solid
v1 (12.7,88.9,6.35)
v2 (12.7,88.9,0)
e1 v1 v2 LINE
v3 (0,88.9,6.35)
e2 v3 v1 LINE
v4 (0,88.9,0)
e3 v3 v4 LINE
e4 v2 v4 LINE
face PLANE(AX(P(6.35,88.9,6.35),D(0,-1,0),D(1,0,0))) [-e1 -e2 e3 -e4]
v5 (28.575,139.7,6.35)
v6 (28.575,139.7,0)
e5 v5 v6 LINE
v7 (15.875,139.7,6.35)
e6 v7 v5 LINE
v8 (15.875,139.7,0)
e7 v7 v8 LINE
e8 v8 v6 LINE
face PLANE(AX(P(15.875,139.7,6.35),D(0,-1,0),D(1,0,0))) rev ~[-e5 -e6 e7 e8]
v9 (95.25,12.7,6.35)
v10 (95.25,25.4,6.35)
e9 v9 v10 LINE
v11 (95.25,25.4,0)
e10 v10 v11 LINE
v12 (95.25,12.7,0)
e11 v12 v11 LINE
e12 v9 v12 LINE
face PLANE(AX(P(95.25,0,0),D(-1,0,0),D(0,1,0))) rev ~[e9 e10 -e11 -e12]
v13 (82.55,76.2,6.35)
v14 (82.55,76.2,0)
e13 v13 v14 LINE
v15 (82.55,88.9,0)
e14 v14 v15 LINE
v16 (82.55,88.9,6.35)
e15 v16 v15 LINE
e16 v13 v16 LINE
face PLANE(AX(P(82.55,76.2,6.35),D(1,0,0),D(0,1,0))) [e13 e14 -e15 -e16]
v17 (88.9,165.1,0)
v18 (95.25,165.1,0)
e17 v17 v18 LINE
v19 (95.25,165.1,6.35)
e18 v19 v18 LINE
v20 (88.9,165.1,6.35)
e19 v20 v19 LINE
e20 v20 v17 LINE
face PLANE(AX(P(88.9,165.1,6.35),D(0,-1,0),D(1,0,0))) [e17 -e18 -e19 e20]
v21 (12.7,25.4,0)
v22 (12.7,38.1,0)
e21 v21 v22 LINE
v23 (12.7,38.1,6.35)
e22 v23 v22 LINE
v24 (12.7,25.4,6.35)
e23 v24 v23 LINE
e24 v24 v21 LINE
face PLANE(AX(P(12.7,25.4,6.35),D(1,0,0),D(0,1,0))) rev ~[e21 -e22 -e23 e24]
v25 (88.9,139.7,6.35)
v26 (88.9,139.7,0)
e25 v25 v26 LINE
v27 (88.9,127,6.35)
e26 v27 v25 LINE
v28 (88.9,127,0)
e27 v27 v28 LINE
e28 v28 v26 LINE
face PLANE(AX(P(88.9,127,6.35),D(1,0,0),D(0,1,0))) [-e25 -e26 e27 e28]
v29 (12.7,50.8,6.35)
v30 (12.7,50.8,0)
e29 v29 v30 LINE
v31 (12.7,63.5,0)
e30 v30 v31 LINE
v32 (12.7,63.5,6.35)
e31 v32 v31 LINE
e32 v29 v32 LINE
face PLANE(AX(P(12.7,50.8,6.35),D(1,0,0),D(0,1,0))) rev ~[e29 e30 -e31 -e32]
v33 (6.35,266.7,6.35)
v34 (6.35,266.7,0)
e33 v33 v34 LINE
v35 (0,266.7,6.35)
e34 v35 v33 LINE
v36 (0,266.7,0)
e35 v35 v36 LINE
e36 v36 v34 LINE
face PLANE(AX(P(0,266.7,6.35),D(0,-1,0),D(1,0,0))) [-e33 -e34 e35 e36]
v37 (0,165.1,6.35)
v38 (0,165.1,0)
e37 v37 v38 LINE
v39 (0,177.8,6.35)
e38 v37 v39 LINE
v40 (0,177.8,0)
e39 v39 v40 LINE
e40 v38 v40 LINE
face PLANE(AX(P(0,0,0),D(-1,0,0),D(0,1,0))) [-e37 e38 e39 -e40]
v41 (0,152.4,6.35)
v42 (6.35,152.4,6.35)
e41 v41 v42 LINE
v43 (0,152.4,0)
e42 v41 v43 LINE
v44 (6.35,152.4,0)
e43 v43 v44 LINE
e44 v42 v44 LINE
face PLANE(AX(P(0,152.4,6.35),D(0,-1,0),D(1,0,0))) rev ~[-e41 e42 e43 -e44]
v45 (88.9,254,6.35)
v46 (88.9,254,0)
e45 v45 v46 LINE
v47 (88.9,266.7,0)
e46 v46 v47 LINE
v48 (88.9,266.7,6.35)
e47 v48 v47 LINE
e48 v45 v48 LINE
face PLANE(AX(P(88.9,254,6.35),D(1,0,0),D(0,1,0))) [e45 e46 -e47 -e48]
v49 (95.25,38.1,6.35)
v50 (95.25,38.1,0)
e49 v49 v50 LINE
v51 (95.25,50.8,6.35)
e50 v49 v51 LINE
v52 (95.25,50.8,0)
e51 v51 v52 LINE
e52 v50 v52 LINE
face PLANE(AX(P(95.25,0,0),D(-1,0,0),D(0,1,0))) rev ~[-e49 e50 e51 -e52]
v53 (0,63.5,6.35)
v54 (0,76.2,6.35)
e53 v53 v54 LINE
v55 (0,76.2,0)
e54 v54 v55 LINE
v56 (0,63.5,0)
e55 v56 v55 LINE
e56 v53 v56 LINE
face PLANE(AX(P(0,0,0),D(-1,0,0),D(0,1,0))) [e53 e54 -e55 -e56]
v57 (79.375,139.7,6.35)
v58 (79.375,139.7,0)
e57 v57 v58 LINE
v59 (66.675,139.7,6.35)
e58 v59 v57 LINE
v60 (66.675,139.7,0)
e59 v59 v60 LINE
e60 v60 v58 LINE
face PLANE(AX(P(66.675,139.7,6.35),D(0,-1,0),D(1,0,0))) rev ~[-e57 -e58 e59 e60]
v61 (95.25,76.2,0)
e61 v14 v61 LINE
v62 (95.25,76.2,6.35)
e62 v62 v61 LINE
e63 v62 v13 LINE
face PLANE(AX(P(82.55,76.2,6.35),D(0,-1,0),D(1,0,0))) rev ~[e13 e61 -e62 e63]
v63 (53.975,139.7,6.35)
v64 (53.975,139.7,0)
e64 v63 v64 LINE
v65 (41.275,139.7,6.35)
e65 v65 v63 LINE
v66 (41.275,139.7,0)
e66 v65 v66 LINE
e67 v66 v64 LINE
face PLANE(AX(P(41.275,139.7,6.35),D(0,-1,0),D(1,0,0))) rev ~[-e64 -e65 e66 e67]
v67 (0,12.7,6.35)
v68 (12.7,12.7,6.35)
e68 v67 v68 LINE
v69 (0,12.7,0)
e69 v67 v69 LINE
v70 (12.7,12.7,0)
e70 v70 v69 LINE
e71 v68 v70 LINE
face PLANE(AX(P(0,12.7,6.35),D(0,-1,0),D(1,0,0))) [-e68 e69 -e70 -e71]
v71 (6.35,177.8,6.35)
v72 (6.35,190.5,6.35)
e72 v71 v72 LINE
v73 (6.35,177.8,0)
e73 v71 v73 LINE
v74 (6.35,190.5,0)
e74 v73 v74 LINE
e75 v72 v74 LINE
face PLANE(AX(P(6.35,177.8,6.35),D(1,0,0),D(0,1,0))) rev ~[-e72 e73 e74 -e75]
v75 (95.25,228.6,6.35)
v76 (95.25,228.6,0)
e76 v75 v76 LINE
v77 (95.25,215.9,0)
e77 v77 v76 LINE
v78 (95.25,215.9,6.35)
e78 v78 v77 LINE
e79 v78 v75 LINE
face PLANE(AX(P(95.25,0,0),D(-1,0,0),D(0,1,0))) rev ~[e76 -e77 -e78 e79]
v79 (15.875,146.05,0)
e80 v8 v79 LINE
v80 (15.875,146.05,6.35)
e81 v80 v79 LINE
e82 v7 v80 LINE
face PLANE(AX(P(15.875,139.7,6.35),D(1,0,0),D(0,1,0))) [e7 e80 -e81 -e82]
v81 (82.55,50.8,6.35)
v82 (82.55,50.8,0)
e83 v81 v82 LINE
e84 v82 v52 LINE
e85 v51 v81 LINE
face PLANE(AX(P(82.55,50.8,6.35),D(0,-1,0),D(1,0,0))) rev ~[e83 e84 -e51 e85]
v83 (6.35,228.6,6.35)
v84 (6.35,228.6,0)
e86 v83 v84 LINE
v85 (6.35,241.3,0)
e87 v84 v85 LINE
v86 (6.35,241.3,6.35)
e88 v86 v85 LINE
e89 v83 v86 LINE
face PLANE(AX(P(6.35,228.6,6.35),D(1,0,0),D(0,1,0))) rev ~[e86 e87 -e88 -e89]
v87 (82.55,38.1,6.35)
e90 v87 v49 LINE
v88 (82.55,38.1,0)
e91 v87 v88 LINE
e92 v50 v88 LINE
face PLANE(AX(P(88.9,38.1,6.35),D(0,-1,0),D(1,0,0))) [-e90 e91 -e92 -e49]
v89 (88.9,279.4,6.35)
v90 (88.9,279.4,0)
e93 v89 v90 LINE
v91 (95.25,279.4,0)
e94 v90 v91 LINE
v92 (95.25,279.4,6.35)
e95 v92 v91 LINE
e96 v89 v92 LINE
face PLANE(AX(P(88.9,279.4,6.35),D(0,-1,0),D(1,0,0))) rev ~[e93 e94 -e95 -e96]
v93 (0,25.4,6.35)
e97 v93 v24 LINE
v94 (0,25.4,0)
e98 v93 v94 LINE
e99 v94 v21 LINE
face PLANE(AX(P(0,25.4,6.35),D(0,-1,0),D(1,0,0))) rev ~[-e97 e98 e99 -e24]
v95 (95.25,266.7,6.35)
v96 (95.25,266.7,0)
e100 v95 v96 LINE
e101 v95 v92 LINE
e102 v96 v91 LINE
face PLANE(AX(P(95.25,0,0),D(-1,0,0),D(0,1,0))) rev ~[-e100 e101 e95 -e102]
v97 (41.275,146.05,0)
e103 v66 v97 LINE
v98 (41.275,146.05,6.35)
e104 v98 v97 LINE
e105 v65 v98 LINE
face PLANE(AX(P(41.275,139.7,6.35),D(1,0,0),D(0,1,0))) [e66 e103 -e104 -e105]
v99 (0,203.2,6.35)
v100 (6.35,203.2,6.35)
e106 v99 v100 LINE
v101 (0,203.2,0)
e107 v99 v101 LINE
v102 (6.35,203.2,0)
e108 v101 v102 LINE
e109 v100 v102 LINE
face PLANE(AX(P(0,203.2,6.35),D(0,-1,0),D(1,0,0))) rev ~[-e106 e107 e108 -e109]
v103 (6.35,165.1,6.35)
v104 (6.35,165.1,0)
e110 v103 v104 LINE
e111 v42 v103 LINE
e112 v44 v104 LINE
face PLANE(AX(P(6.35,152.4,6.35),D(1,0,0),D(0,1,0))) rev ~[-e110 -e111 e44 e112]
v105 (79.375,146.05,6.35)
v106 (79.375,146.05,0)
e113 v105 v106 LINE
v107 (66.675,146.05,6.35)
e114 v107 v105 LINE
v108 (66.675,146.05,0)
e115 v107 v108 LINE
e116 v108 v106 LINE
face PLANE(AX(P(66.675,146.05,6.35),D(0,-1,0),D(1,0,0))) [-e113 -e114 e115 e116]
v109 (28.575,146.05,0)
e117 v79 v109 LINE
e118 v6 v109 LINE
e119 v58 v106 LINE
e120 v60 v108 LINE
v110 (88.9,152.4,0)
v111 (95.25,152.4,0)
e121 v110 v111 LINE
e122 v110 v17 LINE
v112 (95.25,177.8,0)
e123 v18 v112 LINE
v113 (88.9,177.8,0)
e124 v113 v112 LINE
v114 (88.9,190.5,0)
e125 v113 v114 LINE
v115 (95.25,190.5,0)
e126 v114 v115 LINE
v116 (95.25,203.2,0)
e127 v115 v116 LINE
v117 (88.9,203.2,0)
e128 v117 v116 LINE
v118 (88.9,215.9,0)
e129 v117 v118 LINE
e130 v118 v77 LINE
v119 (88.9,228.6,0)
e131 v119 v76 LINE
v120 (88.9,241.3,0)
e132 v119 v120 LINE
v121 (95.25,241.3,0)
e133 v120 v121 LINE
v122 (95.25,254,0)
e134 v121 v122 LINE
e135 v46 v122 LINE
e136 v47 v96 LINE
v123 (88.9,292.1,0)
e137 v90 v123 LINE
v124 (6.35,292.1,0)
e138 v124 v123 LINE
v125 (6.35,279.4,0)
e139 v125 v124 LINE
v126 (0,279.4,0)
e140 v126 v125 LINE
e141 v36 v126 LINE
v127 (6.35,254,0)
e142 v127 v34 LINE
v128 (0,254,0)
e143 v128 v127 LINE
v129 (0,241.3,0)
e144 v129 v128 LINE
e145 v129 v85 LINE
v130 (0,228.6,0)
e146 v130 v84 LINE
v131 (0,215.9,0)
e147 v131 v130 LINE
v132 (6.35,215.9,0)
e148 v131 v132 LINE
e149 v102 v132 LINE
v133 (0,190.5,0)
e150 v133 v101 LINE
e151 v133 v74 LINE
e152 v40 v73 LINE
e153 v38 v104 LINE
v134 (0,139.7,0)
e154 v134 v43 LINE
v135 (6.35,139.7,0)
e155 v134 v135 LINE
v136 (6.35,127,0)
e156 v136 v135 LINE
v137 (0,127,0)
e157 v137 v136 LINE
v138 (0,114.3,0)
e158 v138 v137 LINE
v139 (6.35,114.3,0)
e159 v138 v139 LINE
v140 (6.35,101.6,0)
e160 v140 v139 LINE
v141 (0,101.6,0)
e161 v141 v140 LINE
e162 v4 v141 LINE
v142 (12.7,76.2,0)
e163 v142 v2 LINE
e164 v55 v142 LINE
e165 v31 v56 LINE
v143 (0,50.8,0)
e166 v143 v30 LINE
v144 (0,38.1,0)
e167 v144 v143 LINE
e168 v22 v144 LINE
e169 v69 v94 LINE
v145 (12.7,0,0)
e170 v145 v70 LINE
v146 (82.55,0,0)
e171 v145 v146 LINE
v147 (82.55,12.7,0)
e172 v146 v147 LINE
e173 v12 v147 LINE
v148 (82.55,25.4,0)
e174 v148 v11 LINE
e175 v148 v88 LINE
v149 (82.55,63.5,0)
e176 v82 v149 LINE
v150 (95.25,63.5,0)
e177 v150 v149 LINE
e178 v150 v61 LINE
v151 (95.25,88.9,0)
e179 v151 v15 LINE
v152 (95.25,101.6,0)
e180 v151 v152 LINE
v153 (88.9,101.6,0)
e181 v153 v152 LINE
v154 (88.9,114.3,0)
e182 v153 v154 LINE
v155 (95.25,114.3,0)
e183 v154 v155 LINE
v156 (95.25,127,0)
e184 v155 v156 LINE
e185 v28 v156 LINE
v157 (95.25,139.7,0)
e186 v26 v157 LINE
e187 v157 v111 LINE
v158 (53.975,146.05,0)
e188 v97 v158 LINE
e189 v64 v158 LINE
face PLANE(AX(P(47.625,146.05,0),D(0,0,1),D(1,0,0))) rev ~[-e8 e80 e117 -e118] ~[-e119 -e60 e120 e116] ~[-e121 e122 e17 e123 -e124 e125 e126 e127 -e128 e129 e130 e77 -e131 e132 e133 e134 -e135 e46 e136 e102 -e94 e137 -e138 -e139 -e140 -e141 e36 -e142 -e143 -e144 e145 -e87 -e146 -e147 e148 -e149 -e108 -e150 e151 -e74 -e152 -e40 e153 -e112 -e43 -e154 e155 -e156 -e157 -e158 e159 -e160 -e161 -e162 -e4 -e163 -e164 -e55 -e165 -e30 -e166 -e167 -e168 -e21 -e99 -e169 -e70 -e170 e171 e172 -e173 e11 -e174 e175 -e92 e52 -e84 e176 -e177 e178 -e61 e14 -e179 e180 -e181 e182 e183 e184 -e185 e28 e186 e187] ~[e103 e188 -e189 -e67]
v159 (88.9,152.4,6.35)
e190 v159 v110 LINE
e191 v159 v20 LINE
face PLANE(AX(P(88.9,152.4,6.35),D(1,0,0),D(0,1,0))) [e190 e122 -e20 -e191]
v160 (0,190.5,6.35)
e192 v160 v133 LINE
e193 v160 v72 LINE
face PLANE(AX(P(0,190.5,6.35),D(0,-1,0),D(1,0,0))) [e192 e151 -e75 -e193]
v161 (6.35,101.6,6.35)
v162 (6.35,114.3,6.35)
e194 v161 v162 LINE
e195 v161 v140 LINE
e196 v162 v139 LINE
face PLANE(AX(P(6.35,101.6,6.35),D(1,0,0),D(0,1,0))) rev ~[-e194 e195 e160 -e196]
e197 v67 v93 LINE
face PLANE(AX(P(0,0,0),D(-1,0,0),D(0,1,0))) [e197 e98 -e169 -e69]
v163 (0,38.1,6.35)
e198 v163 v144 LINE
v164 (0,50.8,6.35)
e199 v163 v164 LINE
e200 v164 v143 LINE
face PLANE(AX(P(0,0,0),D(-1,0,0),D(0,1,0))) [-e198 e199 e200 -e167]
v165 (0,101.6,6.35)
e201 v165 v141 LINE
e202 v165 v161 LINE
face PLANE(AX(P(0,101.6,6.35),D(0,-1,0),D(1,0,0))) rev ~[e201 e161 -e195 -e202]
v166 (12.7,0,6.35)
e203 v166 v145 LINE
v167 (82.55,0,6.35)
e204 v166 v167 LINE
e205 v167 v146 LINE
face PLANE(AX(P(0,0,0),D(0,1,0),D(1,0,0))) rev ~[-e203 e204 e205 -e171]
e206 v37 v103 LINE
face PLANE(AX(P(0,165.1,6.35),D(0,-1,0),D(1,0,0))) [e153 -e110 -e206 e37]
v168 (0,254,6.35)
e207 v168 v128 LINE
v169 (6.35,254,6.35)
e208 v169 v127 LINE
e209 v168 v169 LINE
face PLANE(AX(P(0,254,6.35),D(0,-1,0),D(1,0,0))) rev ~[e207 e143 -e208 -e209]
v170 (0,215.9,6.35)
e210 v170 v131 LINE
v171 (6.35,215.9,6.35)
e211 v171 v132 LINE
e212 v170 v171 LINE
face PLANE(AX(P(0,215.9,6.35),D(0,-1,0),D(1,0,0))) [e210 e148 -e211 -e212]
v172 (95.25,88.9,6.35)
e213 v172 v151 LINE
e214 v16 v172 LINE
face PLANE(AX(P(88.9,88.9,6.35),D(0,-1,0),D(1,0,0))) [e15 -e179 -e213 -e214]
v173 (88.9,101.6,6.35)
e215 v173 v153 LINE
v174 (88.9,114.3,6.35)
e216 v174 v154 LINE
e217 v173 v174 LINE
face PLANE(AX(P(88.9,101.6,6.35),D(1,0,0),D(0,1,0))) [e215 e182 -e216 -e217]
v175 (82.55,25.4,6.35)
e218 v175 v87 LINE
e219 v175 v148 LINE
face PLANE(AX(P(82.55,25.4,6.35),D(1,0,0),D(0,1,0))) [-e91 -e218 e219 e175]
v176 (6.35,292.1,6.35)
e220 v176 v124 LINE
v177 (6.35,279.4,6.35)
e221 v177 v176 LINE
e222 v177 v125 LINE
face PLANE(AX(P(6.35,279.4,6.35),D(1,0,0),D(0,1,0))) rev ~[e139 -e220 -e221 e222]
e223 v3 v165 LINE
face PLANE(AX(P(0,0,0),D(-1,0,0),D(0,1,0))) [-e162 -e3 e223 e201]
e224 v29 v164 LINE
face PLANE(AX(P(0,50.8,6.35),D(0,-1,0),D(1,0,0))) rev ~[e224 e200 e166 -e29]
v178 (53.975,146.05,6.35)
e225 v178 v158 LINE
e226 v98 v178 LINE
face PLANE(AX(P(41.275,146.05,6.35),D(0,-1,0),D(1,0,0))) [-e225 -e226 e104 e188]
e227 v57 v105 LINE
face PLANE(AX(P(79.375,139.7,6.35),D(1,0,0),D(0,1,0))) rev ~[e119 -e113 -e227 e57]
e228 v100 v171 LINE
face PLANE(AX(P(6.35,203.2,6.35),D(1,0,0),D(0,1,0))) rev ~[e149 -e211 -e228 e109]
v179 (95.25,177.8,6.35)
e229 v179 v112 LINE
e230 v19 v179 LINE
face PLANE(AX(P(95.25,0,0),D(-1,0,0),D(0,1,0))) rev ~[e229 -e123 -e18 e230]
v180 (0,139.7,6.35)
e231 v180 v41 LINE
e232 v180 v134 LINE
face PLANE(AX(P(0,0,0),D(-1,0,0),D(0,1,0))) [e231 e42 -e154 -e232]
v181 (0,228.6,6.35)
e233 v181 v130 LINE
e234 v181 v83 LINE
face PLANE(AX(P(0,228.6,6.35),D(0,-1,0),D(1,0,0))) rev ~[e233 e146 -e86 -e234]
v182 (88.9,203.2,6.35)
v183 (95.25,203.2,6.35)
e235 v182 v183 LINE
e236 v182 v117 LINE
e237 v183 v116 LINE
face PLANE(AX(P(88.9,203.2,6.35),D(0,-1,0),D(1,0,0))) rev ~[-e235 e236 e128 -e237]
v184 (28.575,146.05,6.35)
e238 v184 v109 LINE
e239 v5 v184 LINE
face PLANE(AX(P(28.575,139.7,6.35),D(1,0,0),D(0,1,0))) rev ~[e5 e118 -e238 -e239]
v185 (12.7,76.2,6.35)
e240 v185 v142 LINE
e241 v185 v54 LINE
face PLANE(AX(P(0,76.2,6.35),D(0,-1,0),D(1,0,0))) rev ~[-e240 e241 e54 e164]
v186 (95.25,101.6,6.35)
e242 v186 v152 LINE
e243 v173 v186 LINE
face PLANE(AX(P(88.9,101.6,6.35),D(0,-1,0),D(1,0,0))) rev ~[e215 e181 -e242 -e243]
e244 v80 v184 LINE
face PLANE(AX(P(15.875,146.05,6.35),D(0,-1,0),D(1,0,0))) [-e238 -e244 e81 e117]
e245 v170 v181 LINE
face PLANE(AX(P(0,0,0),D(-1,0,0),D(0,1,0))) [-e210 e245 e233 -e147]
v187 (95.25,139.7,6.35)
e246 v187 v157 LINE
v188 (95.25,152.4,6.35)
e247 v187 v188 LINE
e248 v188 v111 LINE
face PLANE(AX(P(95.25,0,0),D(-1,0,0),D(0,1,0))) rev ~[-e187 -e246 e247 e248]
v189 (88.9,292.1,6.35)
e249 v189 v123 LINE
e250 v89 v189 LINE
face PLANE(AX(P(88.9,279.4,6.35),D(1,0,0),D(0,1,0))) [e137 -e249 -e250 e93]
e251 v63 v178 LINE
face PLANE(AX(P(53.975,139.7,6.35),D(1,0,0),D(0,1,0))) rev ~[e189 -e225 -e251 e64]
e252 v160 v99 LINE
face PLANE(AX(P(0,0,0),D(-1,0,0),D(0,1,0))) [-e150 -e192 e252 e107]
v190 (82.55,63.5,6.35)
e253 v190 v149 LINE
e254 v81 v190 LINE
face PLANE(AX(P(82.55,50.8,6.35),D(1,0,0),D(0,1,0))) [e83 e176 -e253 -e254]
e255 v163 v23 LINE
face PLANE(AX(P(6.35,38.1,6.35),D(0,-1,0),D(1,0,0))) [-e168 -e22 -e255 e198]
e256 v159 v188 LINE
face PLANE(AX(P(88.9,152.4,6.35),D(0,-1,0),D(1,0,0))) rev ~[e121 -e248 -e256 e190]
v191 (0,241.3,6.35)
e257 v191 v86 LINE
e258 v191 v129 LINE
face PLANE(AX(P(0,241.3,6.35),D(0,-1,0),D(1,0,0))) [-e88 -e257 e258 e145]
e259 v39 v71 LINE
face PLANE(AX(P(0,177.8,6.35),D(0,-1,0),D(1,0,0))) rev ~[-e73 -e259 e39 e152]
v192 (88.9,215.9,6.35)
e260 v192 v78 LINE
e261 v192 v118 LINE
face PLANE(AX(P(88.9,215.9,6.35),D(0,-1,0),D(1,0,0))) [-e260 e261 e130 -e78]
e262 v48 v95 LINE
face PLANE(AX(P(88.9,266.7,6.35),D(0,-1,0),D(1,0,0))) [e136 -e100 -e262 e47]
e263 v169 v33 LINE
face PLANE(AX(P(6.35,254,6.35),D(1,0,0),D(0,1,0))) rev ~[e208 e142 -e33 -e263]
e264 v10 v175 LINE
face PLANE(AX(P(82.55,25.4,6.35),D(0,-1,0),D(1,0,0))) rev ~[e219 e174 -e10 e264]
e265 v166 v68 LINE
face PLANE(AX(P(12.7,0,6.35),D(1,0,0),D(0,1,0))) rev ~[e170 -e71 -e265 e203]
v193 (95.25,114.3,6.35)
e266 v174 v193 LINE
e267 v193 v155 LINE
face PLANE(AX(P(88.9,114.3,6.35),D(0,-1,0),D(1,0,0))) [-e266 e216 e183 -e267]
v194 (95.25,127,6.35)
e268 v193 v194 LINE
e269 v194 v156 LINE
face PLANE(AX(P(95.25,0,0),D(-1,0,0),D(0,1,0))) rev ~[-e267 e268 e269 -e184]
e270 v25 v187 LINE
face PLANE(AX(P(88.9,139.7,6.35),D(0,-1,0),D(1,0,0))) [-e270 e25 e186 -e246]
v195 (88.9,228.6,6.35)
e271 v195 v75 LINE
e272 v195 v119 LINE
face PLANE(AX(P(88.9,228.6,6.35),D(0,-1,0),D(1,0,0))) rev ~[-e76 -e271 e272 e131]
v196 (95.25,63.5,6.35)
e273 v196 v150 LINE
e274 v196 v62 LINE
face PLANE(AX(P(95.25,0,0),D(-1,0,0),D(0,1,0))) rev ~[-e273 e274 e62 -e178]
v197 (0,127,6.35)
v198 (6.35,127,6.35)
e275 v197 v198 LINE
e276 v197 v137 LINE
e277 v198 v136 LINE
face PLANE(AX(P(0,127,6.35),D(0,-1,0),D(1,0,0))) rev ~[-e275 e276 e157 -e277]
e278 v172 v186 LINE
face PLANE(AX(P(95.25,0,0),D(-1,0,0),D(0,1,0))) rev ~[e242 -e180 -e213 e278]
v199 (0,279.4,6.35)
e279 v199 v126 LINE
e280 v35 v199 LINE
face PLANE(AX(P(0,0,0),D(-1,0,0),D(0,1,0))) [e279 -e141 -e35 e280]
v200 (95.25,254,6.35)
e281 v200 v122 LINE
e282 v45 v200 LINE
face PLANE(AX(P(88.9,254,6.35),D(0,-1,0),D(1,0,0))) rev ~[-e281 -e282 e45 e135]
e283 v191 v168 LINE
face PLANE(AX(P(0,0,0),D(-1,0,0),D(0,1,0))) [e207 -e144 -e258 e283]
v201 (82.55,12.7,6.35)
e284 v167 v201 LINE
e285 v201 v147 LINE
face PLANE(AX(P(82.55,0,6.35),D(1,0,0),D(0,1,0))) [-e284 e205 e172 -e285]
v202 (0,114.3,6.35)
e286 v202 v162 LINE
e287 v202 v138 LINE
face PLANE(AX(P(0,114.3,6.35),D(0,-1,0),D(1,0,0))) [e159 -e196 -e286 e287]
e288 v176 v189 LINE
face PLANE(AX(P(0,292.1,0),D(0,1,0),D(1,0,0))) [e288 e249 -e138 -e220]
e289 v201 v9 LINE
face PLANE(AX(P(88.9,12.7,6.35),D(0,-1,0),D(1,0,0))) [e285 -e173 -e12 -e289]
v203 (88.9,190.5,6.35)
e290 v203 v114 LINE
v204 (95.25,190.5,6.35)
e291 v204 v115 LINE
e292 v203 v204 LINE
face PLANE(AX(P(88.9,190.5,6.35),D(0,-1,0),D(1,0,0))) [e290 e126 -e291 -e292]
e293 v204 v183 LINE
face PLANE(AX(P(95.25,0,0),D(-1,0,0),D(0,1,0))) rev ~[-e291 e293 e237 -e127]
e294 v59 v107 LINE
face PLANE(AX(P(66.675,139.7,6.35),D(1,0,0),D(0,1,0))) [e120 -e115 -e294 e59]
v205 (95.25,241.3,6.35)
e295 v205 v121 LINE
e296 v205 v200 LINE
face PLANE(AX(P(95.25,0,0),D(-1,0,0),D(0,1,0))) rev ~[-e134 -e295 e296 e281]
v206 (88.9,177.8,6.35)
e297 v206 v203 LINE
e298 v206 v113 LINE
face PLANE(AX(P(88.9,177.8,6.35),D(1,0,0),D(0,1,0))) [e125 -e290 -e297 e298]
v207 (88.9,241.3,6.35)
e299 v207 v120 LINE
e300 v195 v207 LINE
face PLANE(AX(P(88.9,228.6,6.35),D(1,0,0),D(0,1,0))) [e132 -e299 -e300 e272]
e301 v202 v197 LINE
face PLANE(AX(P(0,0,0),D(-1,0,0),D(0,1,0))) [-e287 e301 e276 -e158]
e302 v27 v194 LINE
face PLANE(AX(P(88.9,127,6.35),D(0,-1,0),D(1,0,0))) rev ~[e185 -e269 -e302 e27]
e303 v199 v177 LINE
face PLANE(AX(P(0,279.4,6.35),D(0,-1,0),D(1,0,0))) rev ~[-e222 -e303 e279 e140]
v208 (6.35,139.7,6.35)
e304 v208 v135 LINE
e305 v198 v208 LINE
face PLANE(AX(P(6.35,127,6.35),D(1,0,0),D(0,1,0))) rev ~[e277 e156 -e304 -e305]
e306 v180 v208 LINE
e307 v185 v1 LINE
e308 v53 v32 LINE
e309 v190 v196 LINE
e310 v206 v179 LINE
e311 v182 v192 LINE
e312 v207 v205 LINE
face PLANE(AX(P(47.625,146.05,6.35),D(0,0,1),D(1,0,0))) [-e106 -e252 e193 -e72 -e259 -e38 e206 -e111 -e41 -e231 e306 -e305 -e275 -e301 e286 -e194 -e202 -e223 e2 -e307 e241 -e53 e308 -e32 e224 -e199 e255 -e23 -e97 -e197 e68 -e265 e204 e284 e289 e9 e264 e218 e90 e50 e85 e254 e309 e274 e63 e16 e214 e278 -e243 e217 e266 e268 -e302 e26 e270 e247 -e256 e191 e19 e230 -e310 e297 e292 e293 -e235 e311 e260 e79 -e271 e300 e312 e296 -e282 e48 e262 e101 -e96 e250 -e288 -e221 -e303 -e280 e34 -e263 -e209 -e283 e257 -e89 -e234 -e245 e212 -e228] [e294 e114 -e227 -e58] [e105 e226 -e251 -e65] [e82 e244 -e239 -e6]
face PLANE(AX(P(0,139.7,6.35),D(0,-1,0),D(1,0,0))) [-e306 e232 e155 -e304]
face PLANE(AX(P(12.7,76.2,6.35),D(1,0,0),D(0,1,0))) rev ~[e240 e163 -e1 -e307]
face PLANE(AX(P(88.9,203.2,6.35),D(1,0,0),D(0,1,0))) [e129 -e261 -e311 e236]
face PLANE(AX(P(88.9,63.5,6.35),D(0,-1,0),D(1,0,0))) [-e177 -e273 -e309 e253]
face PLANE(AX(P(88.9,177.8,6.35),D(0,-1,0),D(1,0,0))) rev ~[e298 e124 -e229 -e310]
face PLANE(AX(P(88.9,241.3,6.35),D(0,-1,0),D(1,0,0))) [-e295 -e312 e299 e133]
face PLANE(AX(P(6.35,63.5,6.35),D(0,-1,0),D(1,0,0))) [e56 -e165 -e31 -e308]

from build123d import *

# Parameters (mm, degrees)
SKETCH1_W           = 95.25
SKETCH1_H           = 292.1
BOSS_EXTRUDE1_DEPTH = 6.35
SKETCH2_W           = 6.35
SKETCH2_H           = 12.7
CUT_EXTRUDE1_DEPTH  = 7.35
LPATTERN1_COUNT     = 12
LPATTERN1_PITCH     = 25.4
SKETCH3_W           = 6.35
SKETCH3_H           = 12.7
CUT_EXTRUDE2_DEPTH  = 7.35
LPATTERN2_COUNT     = 4
LPATTERN2_PITCH     = 25.4
SKETCH4_W           = 12.7
SKETCH4_H           = 6.35
CUT_EXTRUDE3_DEPTH  = 7.35
LPATTERN3_COUNT     = 2
LPATTERN3_PITCH     = 25.4
LPATTERN3_COL_COUNT = 2
LPATTERN3_COL_PITCH = 25.4


with BuildPart() as part:
    # Sketch1 → Boss-Extrude1 (new body)
    with BuildSketch(Plane.XY):
        with Locations((47.625, 146.05)):
            Rectangle(SKETCH1_W, SKETCH1_H)
    extrude(amount=BOSS_EXTRUDE1_DEPTH)

    # Sketch2 → Cut-Extrude1 (cut, through all)
    with BuildSketch(Plane.XY.offset(6.35)):
        with Locations((3.175, 6.35)):
            Rectangle(SKETCH2_W, SKETCH2_H)
        with Locations((92.075, 6.35)):
            Rectangle(SKETCH2_W, SKETCH2_H)
    cut_extrude1 = extrude(amount=-CUT_EXTRUDE1_DEPTH, mode=Mode.SUBTRACT)

    # LPattern1: Cut-Extrude1 ×12
    with Locations(*[(0, i * LPATTERN1_PITCH, 0) for i in range(1, LPATTERN1_COUNT)]):
        add(cut_extrude1, mode=Mode.SUBTRACT)

    # Sketch3 → Cut-Extrude2 (cut, through all)
    with BuildSketch(Plane.XY.offset(6.35)):
        with Locations((85.725, 6.35)):
            Rectangle(SKETCH3_W, SKETCH3_H)
        with Locations((9.525, 6.35)):
            Rectangle(SKETCH3_W, SKETCH3_H)
    cut_extrude2 = extrude(amount=-CUT_EXTRUDE2_DEPTH, mode=Mode.SUBTRACT)

    # LPattern2: Cut-Extrude2 ×4
    with Locations(*[(0, i * LPATTERN2_PITCH, 0) for i in range(1, LPATTERN2_COUNT)]):
        add(cut_extrude2, mode=Mode.SUBTRACT)

    # Sketch4 → Cut-Extrude3 (cut, through all)
    with BuildSketch(Plane.XY.offset(6.35)):
        with Locations((47.625, 142.875)):
            Rectangle(SKETCH4_W, SKETCH4_H)
    cut_extrude3 = extrude(amount=-CUT_EXTRUDE3_DEPTH, mode=Mode.SUBTRACT)

    # LPattern3: Cut-Extrude3 ×2
    with Locations(*[(-i * LPATTERN3_PITCH, 0, 0) for i in range(1, LPATTERN3_COUNT)]):
        add(cut_extrude3, mode=Mode.SUBTRACT)

    # LPattern3 col: Cut-Extrude3 ×2
    with Locations(*[(i * LPATTERN3_COL_PITCH, 0, 0) for i in range(1, LPATTERN3_COL_COUNT)]):
        add(cut_extrude3, mode=Mode.SUBTRACT)


solid = part.part
